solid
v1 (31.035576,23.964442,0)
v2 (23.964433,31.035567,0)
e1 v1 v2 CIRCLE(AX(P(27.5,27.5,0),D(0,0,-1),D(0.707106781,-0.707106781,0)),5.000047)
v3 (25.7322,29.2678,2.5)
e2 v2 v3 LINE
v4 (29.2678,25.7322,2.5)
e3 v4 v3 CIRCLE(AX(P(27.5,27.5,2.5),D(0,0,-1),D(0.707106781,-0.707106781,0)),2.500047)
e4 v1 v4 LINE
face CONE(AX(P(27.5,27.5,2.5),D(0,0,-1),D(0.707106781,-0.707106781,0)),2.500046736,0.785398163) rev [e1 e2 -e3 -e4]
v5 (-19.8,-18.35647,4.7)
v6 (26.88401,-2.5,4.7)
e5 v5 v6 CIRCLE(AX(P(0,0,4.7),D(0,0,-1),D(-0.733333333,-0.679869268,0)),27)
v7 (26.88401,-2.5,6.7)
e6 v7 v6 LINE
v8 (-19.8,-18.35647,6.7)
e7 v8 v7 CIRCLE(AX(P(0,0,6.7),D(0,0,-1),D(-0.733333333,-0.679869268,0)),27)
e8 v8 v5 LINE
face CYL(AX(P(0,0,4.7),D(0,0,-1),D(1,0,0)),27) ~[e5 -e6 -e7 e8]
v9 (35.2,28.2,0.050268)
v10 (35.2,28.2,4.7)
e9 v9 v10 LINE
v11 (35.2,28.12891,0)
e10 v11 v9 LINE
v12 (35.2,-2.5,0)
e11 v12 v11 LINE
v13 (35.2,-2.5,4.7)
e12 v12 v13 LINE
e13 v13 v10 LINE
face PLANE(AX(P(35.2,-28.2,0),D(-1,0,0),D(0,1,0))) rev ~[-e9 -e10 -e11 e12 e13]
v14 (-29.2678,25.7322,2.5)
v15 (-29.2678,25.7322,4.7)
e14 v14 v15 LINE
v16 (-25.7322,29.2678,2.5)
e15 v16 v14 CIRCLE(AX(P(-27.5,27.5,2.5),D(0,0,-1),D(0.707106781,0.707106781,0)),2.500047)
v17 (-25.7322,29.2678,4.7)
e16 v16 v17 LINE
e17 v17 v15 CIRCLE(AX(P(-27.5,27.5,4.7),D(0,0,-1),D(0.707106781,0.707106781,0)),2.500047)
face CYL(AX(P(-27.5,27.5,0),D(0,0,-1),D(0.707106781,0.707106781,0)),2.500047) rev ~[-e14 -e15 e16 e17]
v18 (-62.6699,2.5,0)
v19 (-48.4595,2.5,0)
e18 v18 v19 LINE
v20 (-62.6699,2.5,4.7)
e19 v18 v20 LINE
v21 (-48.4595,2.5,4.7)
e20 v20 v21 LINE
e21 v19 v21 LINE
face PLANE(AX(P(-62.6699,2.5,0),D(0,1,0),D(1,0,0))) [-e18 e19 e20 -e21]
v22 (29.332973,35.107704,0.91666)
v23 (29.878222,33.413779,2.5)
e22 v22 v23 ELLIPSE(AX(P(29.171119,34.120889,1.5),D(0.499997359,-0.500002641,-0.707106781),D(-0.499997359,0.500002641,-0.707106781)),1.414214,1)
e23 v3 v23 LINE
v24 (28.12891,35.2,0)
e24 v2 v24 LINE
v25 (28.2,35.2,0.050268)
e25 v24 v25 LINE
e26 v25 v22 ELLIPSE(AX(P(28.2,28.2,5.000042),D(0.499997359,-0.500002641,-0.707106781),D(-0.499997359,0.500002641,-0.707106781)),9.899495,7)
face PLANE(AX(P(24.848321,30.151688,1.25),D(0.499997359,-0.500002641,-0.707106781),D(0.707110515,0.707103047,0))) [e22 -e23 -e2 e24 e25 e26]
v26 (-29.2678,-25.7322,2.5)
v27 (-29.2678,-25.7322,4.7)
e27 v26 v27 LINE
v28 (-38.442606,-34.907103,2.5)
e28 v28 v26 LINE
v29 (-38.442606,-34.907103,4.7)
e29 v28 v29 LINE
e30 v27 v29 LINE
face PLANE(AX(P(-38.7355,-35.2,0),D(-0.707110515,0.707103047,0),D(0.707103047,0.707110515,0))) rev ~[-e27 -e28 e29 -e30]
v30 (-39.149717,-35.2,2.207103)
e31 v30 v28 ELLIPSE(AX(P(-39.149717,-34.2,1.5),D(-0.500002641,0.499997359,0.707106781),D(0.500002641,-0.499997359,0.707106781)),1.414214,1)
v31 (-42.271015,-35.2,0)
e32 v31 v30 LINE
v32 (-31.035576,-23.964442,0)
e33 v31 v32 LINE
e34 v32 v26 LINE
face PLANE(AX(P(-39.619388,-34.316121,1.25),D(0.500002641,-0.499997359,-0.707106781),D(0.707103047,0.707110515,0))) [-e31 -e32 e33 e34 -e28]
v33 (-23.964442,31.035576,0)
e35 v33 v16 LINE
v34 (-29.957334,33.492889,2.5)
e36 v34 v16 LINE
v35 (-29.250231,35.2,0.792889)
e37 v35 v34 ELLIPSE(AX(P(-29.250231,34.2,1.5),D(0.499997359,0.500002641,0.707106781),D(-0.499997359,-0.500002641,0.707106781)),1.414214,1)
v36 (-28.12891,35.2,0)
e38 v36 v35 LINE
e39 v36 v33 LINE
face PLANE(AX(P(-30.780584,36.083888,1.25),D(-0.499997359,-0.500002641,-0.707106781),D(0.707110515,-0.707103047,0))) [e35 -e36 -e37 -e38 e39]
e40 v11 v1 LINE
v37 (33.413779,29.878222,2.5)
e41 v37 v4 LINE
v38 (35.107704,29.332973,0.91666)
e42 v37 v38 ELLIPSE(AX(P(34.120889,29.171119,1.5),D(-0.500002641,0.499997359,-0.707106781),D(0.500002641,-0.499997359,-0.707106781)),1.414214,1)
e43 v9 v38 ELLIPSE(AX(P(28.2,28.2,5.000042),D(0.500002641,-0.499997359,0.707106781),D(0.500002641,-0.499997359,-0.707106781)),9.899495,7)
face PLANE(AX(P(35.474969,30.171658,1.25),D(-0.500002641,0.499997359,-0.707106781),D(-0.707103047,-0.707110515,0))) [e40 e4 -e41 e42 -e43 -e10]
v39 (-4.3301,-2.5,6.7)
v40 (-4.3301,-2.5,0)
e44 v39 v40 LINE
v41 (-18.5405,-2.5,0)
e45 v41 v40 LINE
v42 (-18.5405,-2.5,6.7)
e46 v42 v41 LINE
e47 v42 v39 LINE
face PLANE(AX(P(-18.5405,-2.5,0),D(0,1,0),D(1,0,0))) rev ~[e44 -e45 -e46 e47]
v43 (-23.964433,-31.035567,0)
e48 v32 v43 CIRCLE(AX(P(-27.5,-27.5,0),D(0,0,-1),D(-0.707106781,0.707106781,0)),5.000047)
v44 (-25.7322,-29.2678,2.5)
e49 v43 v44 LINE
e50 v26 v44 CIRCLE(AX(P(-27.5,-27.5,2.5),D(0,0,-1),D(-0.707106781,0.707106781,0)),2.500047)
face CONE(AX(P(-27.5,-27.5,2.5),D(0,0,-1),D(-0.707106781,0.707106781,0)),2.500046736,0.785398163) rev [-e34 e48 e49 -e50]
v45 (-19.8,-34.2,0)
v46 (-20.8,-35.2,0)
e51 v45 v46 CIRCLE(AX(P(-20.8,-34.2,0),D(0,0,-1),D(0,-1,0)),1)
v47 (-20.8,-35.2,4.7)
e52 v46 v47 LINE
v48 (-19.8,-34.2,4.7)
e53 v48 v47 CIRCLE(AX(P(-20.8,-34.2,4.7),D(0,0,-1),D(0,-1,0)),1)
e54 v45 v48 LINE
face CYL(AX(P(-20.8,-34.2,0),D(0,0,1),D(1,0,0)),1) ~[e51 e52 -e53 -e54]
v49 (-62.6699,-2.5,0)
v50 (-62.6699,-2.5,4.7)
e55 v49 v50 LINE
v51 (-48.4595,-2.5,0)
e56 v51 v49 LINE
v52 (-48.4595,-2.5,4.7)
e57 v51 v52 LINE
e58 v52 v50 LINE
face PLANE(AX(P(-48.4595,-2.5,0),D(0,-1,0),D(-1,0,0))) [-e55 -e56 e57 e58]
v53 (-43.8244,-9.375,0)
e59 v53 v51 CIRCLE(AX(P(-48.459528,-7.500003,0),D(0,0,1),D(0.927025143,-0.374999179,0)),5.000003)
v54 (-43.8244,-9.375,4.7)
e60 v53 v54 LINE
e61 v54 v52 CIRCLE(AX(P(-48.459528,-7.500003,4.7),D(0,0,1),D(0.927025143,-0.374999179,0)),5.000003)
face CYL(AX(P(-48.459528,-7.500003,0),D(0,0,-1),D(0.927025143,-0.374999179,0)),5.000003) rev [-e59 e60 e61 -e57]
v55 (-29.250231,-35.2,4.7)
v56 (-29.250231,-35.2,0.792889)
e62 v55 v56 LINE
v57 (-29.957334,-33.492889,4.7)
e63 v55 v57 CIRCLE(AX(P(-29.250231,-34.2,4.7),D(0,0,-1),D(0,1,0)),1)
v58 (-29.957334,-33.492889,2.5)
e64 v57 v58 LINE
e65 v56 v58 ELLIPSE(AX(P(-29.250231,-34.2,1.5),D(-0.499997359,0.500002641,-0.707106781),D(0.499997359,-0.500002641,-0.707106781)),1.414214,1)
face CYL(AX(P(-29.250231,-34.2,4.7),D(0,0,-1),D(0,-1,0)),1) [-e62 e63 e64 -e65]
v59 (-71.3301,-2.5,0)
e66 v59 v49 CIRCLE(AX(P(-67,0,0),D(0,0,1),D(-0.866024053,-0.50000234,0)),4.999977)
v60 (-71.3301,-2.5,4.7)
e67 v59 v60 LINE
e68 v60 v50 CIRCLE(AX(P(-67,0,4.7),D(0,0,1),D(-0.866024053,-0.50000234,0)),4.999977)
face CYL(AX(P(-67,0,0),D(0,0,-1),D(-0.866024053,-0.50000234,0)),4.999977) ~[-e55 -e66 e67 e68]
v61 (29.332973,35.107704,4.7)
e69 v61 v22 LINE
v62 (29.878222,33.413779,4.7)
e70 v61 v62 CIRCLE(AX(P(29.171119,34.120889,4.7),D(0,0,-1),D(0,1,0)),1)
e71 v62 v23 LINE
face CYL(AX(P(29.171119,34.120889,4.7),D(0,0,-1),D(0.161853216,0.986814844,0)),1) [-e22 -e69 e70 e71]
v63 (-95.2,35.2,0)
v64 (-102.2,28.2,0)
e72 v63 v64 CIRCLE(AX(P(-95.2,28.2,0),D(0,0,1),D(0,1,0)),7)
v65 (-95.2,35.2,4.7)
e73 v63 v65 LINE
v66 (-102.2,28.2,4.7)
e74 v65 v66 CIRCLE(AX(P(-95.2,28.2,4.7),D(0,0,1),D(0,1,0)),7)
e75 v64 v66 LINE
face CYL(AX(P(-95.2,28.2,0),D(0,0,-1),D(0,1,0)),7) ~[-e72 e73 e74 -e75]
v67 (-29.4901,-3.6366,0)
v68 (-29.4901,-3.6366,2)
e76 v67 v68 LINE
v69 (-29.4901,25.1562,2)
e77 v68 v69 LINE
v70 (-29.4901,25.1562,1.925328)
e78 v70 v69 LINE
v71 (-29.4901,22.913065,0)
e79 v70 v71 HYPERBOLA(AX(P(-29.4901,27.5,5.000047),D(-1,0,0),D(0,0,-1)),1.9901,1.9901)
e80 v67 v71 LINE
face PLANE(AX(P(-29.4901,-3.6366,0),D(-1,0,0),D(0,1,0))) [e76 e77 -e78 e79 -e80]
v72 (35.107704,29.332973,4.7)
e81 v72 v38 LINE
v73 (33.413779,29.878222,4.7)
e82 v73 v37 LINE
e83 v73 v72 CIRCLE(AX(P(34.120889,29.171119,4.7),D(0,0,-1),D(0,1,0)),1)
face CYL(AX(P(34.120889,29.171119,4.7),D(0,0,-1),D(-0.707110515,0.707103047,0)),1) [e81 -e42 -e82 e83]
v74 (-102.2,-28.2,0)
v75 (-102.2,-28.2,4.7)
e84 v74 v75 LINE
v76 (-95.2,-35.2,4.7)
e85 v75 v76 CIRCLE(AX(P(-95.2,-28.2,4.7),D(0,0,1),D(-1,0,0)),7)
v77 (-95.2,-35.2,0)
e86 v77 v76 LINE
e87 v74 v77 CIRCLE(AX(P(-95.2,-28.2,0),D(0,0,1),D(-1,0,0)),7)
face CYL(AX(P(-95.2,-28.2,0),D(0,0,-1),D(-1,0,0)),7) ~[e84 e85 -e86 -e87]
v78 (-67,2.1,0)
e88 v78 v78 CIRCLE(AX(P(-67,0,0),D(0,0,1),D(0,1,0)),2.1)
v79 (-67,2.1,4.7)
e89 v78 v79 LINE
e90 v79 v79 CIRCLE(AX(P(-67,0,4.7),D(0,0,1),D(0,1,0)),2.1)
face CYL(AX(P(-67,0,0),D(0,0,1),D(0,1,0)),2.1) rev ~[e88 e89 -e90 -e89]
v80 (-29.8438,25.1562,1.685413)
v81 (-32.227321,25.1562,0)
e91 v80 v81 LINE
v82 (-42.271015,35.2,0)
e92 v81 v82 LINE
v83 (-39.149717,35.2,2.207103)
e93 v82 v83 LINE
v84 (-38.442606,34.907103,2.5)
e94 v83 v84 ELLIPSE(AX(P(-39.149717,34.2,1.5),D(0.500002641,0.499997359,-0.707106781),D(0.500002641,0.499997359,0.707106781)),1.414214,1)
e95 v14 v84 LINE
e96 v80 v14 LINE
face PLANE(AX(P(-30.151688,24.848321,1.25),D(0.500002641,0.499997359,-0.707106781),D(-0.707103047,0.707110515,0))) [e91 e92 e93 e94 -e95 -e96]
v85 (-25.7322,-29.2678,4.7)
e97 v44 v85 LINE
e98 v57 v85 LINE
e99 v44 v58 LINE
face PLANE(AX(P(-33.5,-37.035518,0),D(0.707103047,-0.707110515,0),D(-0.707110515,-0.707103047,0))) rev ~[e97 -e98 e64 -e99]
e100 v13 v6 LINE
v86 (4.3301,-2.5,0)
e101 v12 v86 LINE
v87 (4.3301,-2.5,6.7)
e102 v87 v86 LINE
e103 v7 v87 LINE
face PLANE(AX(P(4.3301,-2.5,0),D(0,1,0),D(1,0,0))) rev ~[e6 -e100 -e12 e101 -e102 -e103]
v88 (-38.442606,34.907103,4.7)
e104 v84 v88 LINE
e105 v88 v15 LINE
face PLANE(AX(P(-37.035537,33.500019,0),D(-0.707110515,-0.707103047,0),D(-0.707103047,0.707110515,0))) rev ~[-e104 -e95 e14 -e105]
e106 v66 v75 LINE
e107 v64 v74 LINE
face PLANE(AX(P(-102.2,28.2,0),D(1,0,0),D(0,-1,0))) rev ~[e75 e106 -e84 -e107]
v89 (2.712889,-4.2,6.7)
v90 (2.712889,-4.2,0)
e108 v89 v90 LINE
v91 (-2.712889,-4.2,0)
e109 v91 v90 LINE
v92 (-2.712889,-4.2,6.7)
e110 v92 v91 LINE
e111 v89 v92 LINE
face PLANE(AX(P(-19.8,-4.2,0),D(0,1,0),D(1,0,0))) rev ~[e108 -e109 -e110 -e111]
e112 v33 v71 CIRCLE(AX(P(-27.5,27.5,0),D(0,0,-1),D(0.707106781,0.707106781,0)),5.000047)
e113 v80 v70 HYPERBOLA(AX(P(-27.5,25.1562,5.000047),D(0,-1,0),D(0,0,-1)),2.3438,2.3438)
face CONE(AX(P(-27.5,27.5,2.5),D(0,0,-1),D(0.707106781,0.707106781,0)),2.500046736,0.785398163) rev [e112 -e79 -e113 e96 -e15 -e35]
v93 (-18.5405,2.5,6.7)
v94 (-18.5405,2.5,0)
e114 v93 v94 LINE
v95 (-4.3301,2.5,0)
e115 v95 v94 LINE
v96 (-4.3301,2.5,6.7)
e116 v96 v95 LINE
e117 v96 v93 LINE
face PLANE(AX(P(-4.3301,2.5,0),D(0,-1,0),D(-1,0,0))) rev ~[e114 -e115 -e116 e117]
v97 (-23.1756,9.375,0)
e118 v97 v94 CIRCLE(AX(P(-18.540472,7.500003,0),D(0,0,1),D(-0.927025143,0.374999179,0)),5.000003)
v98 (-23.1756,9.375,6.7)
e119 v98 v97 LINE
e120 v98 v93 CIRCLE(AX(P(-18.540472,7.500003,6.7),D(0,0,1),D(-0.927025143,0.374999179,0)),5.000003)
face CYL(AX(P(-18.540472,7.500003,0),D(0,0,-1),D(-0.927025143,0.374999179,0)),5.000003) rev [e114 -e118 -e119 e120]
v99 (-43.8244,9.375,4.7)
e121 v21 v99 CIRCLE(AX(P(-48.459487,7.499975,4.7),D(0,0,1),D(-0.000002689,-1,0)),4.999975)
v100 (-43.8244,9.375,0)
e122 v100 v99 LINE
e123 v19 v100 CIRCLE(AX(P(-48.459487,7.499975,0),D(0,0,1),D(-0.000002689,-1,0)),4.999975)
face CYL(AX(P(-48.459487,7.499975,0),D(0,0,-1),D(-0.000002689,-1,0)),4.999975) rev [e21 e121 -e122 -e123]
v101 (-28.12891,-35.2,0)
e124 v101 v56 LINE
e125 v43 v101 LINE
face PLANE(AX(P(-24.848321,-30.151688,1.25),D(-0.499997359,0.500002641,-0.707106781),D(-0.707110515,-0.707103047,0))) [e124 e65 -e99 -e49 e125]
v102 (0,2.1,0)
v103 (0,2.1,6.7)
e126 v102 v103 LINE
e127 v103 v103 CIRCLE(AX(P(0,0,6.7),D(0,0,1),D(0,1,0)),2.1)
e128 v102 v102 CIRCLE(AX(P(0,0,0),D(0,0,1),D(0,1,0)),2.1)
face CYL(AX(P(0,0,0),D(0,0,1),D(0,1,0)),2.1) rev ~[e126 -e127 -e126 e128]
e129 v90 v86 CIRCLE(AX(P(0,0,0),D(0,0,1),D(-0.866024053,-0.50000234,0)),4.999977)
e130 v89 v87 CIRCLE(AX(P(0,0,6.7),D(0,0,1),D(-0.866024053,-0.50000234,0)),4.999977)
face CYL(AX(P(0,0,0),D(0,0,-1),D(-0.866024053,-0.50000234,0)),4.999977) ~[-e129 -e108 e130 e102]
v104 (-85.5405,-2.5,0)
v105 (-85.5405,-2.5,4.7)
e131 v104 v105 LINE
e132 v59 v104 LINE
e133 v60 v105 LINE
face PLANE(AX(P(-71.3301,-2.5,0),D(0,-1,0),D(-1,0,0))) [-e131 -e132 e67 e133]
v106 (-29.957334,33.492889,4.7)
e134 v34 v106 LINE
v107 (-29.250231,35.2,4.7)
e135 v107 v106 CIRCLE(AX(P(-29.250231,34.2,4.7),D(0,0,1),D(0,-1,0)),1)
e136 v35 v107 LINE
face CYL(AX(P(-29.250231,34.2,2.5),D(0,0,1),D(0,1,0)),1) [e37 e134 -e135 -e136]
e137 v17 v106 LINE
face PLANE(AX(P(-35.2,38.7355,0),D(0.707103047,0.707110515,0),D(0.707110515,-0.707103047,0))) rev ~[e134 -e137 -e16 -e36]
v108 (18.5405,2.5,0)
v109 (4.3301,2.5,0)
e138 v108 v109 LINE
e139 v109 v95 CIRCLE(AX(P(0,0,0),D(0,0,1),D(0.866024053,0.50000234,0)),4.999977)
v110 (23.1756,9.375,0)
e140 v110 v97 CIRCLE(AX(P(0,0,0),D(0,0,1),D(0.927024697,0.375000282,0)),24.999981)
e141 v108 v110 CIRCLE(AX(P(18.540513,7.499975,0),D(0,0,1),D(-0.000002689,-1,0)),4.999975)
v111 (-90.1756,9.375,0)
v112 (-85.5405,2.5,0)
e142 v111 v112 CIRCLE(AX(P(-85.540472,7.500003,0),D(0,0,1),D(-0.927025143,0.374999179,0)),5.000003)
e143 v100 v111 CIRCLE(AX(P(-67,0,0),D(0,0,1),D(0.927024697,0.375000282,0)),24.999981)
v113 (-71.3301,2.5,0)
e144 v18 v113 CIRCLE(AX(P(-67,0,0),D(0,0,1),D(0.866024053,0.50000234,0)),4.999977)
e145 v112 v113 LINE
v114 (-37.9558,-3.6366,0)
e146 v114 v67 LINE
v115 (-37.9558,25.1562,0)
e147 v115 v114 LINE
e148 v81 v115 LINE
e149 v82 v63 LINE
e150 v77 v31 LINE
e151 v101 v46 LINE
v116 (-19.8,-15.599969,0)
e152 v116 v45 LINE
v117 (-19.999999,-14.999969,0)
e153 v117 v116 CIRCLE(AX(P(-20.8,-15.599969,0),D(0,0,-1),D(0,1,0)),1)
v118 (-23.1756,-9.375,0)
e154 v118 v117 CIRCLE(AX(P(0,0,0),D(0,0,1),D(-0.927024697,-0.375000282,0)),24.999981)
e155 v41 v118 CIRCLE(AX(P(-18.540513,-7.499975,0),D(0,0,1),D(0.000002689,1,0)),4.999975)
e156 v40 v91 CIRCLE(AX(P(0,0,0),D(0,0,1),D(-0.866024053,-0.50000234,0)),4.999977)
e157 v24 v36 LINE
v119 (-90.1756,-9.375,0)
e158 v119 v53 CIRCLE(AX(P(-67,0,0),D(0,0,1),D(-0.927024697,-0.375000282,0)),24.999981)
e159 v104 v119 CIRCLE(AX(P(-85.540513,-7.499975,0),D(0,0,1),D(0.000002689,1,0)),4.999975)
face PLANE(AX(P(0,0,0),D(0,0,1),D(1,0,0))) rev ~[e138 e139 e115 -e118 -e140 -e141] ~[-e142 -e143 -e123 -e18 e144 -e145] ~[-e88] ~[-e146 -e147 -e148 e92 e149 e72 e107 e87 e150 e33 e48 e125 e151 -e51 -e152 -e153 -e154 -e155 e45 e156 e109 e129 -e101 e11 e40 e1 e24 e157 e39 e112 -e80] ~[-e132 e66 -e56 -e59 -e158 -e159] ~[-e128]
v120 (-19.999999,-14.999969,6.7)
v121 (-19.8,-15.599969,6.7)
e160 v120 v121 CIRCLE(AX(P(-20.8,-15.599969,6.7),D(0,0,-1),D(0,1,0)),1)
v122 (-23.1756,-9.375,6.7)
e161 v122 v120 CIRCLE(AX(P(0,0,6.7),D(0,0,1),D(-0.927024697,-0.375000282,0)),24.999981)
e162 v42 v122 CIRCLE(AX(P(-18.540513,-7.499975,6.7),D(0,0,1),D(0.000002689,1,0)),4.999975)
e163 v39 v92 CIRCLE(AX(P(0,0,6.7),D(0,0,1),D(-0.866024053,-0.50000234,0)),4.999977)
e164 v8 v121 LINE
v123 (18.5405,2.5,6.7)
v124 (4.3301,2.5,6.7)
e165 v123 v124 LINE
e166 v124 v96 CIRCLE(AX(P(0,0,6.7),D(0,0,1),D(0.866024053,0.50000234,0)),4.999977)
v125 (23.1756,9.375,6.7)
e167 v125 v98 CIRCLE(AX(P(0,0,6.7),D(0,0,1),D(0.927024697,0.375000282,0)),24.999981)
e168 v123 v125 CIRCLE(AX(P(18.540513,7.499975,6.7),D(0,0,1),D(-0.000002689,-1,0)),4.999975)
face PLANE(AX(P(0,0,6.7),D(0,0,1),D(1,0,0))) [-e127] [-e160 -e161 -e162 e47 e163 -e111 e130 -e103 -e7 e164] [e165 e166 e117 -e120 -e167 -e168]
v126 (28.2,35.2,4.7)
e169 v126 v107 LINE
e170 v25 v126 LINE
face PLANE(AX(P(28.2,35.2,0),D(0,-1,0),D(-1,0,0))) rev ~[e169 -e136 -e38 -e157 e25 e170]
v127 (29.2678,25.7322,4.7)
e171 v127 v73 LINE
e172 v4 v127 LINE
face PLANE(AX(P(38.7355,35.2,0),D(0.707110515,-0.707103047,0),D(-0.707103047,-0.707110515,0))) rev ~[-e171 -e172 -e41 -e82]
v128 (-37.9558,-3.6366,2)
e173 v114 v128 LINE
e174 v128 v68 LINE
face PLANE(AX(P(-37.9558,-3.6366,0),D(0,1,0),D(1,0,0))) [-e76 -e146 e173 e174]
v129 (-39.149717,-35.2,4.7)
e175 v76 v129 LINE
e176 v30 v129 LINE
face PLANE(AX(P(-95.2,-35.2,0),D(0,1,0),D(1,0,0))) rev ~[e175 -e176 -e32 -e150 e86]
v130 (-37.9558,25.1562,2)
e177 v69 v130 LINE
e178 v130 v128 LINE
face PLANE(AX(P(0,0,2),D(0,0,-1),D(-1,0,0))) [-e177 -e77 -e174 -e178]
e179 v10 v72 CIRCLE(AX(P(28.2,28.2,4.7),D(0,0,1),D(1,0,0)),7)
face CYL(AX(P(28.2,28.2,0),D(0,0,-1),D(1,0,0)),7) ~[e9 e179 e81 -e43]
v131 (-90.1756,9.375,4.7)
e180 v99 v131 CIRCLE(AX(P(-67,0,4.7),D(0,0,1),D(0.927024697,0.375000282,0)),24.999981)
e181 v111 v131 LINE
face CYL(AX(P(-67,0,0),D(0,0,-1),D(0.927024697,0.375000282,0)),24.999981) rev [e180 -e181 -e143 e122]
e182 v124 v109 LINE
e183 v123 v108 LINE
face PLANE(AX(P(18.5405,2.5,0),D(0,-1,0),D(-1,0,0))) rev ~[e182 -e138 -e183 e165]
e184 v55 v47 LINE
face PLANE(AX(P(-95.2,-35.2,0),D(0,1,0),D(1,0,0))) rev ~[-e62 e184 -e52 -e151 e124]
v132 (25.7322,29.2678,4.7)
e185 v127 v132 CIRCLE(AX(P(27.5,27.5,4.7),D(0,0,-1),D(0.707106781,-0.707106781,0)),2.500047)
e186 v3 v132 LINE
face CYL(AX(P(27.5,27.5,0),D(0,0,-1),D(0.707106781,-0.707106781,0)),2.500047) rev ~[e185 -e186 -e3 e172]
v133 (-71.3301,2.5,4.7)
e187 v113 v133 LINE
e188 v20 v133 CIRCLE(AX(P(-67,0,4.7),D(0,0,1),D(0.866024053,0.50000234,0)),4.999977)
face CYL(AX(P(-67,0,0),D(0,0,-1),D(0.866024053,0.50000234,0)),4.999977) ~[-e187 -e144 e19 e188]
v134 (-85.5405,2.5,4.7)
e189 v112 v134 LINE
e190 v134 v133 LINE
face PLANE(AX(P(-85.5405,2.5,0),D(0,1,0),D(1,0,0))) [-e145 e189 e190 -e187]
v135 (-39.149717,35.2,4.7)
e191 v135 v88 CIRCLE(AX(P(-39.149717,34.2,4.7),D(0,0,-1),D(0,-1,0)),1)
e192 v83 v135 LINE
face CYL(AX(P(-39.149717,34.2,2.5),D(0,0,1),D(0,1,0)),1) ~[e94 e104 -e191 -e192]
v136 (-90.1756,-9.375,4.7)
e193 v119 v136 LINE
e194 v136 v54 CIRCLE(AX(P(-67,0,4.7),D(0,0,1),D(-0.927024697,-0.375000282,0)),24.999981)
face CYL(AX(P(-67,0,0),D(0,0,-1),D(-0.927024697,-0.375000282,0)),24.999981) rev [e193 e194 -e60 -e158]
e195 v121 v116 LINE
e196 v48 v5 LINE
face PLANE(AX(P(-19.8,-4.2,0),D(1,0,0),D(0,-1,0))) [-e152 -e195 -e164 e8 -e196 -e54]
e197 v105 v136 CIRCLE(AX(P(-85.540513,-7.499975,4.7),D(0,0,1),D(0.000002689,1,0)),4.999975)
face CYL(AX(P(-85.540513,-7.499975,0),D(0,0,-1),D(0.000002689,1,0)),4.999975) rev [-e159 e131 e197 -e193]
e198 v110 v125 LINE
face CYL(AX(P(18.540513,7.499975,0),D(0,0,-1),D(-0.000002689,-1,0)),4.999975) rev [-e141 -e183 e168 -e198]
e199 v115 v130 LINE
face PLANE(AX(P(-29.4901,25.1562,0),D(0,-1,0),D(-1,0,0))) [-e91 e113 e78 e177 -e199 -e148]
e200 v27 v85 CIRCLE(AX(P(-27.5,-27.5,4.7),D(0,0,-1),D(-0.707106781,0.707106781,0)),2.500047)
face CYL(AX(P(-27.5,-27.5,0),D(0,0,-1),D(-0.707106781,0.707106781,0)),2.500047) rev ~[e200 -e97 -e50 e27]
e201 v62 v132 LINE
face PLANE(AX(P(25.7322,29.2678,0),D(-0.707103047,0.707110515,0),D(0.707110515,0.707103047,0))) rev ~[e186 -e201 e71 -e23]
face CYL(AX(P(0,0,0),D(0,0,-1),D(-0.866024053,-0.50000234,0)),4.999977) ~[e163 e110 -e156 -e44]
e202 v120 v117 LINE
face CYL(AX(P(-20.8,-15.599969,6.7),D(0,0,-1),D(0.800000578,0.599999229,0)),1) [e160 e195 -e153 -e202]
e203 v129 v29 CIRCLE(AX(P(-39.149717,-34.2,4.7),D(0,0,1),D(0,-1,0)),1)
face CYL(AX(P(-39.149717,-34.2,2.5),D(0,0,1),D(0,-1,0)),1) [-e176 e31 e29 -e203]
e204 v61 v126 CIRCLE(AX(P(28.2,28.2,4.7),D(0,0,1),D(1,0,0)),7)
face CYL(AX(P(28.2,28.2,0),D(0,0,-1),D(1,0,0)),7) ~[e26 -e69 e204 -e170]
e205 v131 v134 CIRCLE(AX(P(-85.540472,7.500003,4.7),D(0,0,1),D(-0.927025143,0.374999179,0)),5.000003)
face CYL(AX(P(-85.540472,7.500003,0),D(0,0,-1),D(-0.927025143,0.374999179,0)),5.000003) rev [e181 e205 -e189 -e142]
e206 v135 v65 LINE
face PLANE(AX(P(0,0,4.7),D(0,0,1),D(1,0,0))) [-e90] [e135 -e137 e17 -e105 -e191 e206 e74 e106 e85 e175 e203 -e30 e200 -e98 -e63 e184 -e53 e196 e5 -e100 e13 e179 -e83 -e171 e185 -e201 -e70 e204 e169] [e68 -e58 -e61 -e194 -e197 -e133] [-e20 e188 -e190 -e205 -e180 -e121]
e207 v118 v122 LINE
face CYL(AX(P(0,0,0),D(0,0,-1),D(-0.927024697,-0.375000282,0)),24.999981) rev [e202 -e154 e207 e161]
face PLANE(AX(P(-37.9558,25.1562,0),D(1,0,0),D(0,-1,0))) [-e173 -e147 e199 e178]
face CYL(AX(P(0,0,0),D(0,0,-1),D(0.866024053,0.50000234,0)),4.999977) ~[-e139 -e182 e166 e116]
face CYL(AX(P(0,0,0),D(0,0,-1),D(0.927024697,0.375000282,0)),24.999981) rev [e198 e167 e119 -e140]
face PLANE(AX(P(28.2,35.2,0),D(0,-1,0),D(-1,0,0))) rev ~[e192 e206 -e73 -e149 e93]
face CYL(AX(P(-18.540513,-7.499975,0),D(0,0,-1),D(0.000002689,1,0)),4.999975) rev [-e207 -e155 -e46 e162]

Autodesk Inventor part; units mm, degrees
ref_plane "YZ Plane" through (0, 0, 0) normal (1, 0, 0) x (0, 1, 0)
ref_plane "XZ Plane" through (0, 0, 0) normal (0, 1, 0) x (-1, 0, 0)
ref_plane "XY Plane" through (0, 0, 0) normal (0, 0, 1) x (1, 0, 0)
sketch "Sketch1" plane through (0, 0, 0) normal (0, 0, 1) x (1, 0, 0)
  line L0 (-95.2, -35.2) -> (28.2, -35.2)
  line L1 (35.2, -28.2) -> (35.2, 28.2)
  line L2 (28.2, 35.2) -> (-95.2, 35.2)
  line L3 (-102.2, 28.2) -> (-102.2, -28.2)
  arc A0 (-95.2, 35.2) -> (-102.2, 28.2) centre (-95.2, 28.2) ccw
  arc A1 (35.2, 28.2) -> (28.2, 35.2) centre (28.2, 28.2) ccw
  arc A2 (-102.2, -28.2) -> (-95.2, -35.2) centre (-95.2, -28.2) ccw
  arc A3 (28.2, -35.2) -> (35.2, -28.2) centre (28.2, -28.2) ccw
  line L4 (24.8747, -2.5) -> (24.8747, 2.5) construction
  line L5 (-24.8747, 2.5) -> (-24.8747, -2.5) construction
  line L6 (24.8747, -2.5) -> (-24.8747, 2.5) construction
  line L7 (24.8747, 2.5) -> (-24.8747, -2.5) construction
  arc A4 (-23.1756, -9.375) -> (23.1756, -9.375) centre (0, 0) ccw
  arc A5 (23.1756, 9.375) -> (-23.1756, 9.375) centre (0, 0) ccw
  arc A6 (-18.5405, -2.5) -> (-23.1756, -9.375) centre (-18.5405, -7.5) ccw
  arc A7 (-23.1756, 9.375) -> (-18.5405, 2.5) centre (-18.5405, 7.5) ccw
  arc A8 (23.1756, -9.375) -> (18.5405, -2.5) centre (18.5405, -7.5) ccw
  arc A9 (18.5405, 2.5) -> (23.1756, 9.375) centre (18.5405, 7.5) ccw
  line L8 (-4.3301, 2.5) -> (-18.5405, 2.5)
  line L9 (-18.5405, -2.5) -> (-4.3301, -2.5)
  line L10 (4.3301, -2.5) -> (18.5405, -2.5)
  line L11 (18.5405, 2.5) -> (4.3301, 2.5)
  arc A10 (-4.3301, -2.5) -> (4.3301, -2.5) centre (0, 0) ccw
  arc A11 (4.3301, 2.5) -> (-4.3301, 2.5) centre (0, 0) ccw
  line L12 (-18.5405, 7.5) -> (18.5405, 7.5) construction
  line L13 (18.5405, -7.5) -> (-18.5405, -7.5) construction
  line L14 (0, 0) -> (0, -35.2) construction
  line L15 (0, 0) -> (0, 35.2) construction
  line L16 (0, 0) -> (35.2, 0) construction
  line L17 (-33.5, -35.2) -> (-33.5, 35.2) construction
  arc A12 (-90.1756, -9.375) -> (-43.8244, -9.375) centre (-67, 0) ccw
  arc A13 (-43.8244, 9.375) -> (-90.1756, 9.375) centre (-67, 0) ccw
  arc A14 (-43.8244, -9.375) -> (-48.4595, -2.5) centre (-48.4595, -7.5) ccw
  arc A15 (-48.4595, 2.5) -> (-43.8244, 9.375) centre (-48.4595, 7.5) ccw
  arc A16 (-85.5405, -2.5) -> (-90.1756, -9.375) centre (-85.5405, -7.5) ccw
  arc A17 (-90.1756, 9.375) -> (-85.5405, 2.5) centre (-85.5405, 7.5) ccw
  line L18 (-62.6699, 2.5) -> (-48.4595, 2.5)
  line L19 (-48.4595, -2.5) -> (-62.6699, -2.5)
  line L20 (-71.3301, -2.5) -> (-85.5405, -2.5)
  line L21 (-85.5405, 2.5) -> (-71.3301, 2.5)
  arc A18 (-71.3301, -2.5) -> (-62.6699, -2.5) centre (-67, 0) ccw
  arc A19 (-62.6699, 2.5) -> (-71.3301, 2.5) centre (-67, 0) ccw
  point P0 (0, 0)
  point P1 (0, 0)
  dimension "d63" = 67
  dimension "d1" = 7
  dimension "d3" = 5
  dimension "d4" = 25
  dimension "d5" = 5
  dimension "d7" = 5
  dimension "d59" = 70.4
  dimension "d60" = 137.4
extrude "Extrusion1" add sketch "Sketch1" along normal blind 4.7
sketch "Sketch2" plane through (0, 0, 4.7) normal (0, 0, 1) x (1, 0, 0)
  circle A0 centre (0, 0) radius 27
  arc A1 (23.1756, 9.375) -> (-23.1756, 9.375) centre (0, 0) ccw projected
  arc A2 (18.5405, 2.5) -> (23.1756, 9.375) centre (18.5405, 7.5) ccw projected
  line L0 (18.5405, 2.5) -> (4.3301, 2.5) projected
  arc A3 (4.3301, 2.5) -> (-4.3301, 2.5) centre (0, 0) ccw projected
  line L1 (-4.3301, 2.5) -> (-18.5405, 2.5) projected
  arc A4 (-23.1756, 9.375) -> (-18.5405, 2.5) centre (-18.5405, 7.5) ccw projected
  line L2 (-18.5405, -2.5) -> (-4.3301, -2.5) projected
  arc A5 (-4.3301, -2.5) -> (4.3301, -2.5) centre (0, 0) ccw projected
  line L3 (4.3301, -2.5) -> (18.5405, -2.5) projected
  arc A6 (23.1756, -9.375) -> (18.5405, -2.5) centre (18.5405, -7.5) ccw projected
  arc A7 (-23.1756, -9.375) -> (23.1756, -9.375) centre (0, 0) ccw projected
  arc A8 (-18.5405, -2.5) -> (-23.1756, -9.375) centre (-18.5405, -7.5) ccw projected
  line L4 (28.2, 35.2) -> (-95.2, 35.2) projected
  arc A9 (-95.2, 35.2) -> (-102.2, 28.2) centre (-95.2, 28.2) ccw projected
  line L5 (-102.2, 28.2) -> (-102.2, -28.2) projected
  arc A10 (-102.2, -28.2) -> (-95.2, -35.2) centre (-95.2, -28.2) ccw projected
  line L6 (-95.2, -35.2) -> (28.2, -35.2) projected
  arc A11 (28.2, -35.2) -> (35.2, -28.2) centre (28.2, -28.2) ccw projected
  line L7 (35.2, -28.2) -> (35.2, 28.2) projected
  arc A12 (35.2, 28.2) -> (28.2, 35.2) centre (28.2, 28.2) ccw projected
  dimension "d10" = 54
extrude "Extrusion2" add sketch "Sketch2" along normal blind 2 contours A0
sketch "Sketch3" plane through (0, 0, 0) normal (0, 0, -1) x (-1, 0, 0)
  line L0 (-27.5, -27.5) -> (27.5, -27.5) construction
  line L1 (27.5, -27.5) -> (27.5, 27.5) construction
  line L2 (27.5, 27.5) -> (-27.5, 27.5) construction
  line L3 (-27.5, 27.5) -> (-27.5, -27.5) construction
  line L4 (-27.5, -27.5) -> (27.5, 27.5) construction
  line L5 (27.5, -27.5) -> (-27.5, 27.5) construction
  line L6 (-27.5, 27.5) -> (-36.9678, 36.9678) construction
  line L7 (-25.7322, 29.2678) -> (-35.2, 38.7355)
  line L8 (-38.7355, 35.2) -> (-29.2678, 25.7322)
  arc A0 (-29.2678, 25.7322) -> (-25.7322, 29.2678) centre (-27.5, 27.5) ccw
  arc A1 (-35.2, 38.7355) -> (-38.7355, 35.2) centre (-36.9678, 36.9678) ccw
  line L9 (95.2, 35.2) -> (-28.2, 35.2) construction
  arc A2 (-38.7355, -35.2) -> (-35.2, -38.7355) centre (-36.9678, -36.9678) ccw
  line L10 (-29.2678, -25.7322) -> (-38.7355, -35.2)
  line L11 (-35.2, -38.7355) -> (-25.7322, -29.2678)
  arc A3 (-25.7322, -29.2678) -> (-29.2678, -25.7322) centre (-27.5, -27.5) ccw
  arc A4 (35.2, -38.7355) -> (38.7355, -35.2) centre (36.9678, -36.9678) ccw
  line L12 (25.7322, -29.2678) -> (35.2, -38.7355)
  line L13 (38.7355, -35.2) -> (29.2678, -25.7322)
  arc A5 (29.2678, -25.7322) -> (25.7322, -29.2678) centre (27.5, -27.5) ccw
  arc A6 (38.7355, 35.2) -> (35.2, 38.7355) centre (36.9678, 36.9678) ccw
  line L14 (29.2678, 25.7322) -> (38.7355, 35.2)
  line L15 (35.2, 38.7355) -> (25.7322, 29.2678)
  arc A7 (25.7322, 29.2678) -> (29.2678, 25.7322) centre (27.5, 27.5) ccw
  arc A8 (62.6699, -2.5) -> (71.3301, -2.5) centre (67, 0) ccw construction
  line L16 (67, 0) -> (0, 0) construction
  line L17 (134, 0) -> (67, 0) construction
  arc A9 (92.7322, 29.2678) -> (96.2678, 25.7322) centre (94.5, 27.5) ccw
  line L18 (96.2678, 25.7322) -> (105.7355, 35.2)
  arc A10 (105.7355, 35.2) -> (102.2, 38.7355) centre (103.9678, 36.9678) ccw
  line L19 (102.2, 38.7355) -> (92.7322, 29.2678)
  line L20 (28.2645, 35.2) -> (37.7322, 25.7322)
  arc A11 (37.7322, 25.7322) -> (41.2678, 29.2678) centre (39.5, 27.5) ccw
  line L21 (41.2678, 29.2678) -> (31.8, 38.7355)
  arc A12 (31.8, 38.7355) -> (28.2645, 35.2) centre (30.0322, 36.9678) ccw
  line L22 (31.8, -38.7355) -> (41.2678, -29.2678)
  arc A13 (41.2678, -29.2678) -> (37.7322, -25.7322) centre (39.5, -27.5) ccw
  line L23 (37.7322, -25.7322) -> (28.2645, -35.2)
  arc A14 (28.2645, -35.2) -> (31.8, -38.7355) centre (30.0322, -36.9678) ccw
  line L24 (105.7355, -35.2) -> (96.2678, -25.7322)
  arc A15 (96.2678, -25.7322) -> (92.7322, -29.2678) centre (94.5, -27.5) ccw
  line L25 (92.7322, -29.2678) -> (102.2, -38.7355)
  arc A16 (102.2, -38.7355) -> (105.7355, -35.2) centre (103.9678, -36.9678) ccw
  point P0 (-32.2339, 32.2339)
  point P1 (129.6699, -2.5)
  point P2 (138.3301, -2.5)
  dimension "d68" = 55
  dimension "d70" = 5
  dimension "d73" = 360
  dimension "d211" = 67
  dimension "d214" = 67
  dimension "d221" = 360
extrude "Extrusion3" cut sketch "Sketch3" against normal through all contours A0 L8 A1 L7 | L10 A3 L11 A2 | L12 L22 L13 A4 | L12 L23 L13 L22 | L12 A5 L13 L23 | L14 L21 L15 A6 | L14 L20 L15 L21 | L14 A7 L15 L20
chamfer "Chamfer1" distance 2.5 angle 45 12 edges at (28.3939, 31.9294, 0) (25.7322, 25.7322, 0) (31.9294, 28.3939, 0) (-28.6983, 32.2339, 0) (-25.7322, 25.7322, 0) (-34.0017, 30.4661, 0) (-25.7322, -25.7322, 0) (-34.0017, -30.4661, 0) (-28.6983, -32.2339, 0) (25.7322, -25.7322, 0) (28.3939, -31.9294, 0) (31.9294, -28.3939, 0)
fillet "Fillet1" radius 1 8 edges at (34.5911, -31.0555, 3.6) (31.0555, -34.5911, 3.6) (31.0555, 34.5911, 3.6) (34.5911, 31.0555, 3.6) (-31.6645, 35.2, 3.6) (-38.7355, 35.2, 3.6) (-31.6645, -35.2, 3.6) (-38.7355, -35.2, 3.6)
sketch "Sketch7" plane through (0, 0, 0) normal (0, 0, -1) x (-1, 0, 0)
  arc A0 (-4.3301, -2.5) -> (4.3301, -2.5) centre (0, 0) ccw construction
  arc A1 (62.6699, -2.5) -> (71.3301, -2.5) centre (67, 0) ccw projected
  point P0 (0, 0)
hole "Hole2" at (0, 0, 0) at (-67, 0, 0) direction (0, 0, 1) diameter 4.2 end through all
sketch "Sketch4" plane through (0, 0, 0) normal (0, 0, -1) x (-1, 0, 0)
  line L0 (19.8, -4.2) -> (19.8, -35.2)
  line L1 (19.8, -35.2) -> (-35.2, -35.2)
  line L2 (-35.2, -35.2) -> (-35.2, -4.2)
  line L3 (19.8, -4.2) -> (-35.2, -4.2)
  line L4 (102.2, -35.2) -> (-35.2, -35.2) construction
  line L5 (-35.2, -35.2) -> (-35.2, 35.2) construction
  line L6 (-35.2, 35.2) -> (102.2, 35.2) construction
  line L7 (102.2, 35.2) -> (102.2, -35.2) construction
  line L8 (28.1289, 35.2) -> (42.2711, 35.2) construction
  line L9 (-35.2, 28.1289) -> (-35.2, -28.1289) construction
  line L10 (-28.2, -35.2) -> (28.1289, -35.2) construction
  line L11 (102.2, -28.2) -> (102.2, 28.2) construction
  line L12 (-4.3301, -2.5) -> (-18.5405, -2.5) projected
  line L13 (-4.3301, -2.5) -> (-35.2, -2.5)
  line L14 (-35.2, -2.5) -> (-35.2, -4.2)
  line L15 (-35.2, -4.2) -> (-4.3301, -4.2)
  line L16 (-4.3301, -4.2) -> (-4.3301, -2.5)
  point P0 (-28.1289, 35.2)
  point P1 (-28.1289, -35.2)
  dimension "d39" = 31
  dimension "d41" = 55
extrude "Extrusion4" cut sketch "Sketch4" against normal through all
fillet "Fillet2" radius 1 2 edges at (-19.8, -15.263, 3.35) (-19.8, -35.2, 2.35)
sketch "Sketch8" plane through (0, 0, 0) normal (0, 0, -1) x (-1, 0, 0)
  line L0 (0, 0) -> (35.5, 0) construction
  line L1 (35.5, 0) -> (71, 0) construction
  line L2 (32.5, 32.5) -> (32.5, -32.5) construction
  line L3 (32.5, -32.5) -> (-32.5, -32.5) construction
  line L4 (-32.5, -32.5) -> (-32.5, 32.5) construction
  line L5 (-32.5, 32.5) -> (32.5, 32.5) construction
  line L6 (99.5, 32.5) -> (99.5, -32.5) construction
  line L7 (99.5, -32.5) -> (34.5, -32.5) construction
  line L8 (34.5, -32.5) -> (34.5, 32.5) construction
  line L9 (34.5, 32.5) -> (99.5, 32.5) construction
  line L10 (96.3694, 32.5) -> (96.3694, 35.2) construction
  line L11 (99.5, 26.6962) -> (102.2, 26.6962) construction
  line L12 (92.7868, -32.5) -> (92.7868, -35.2) construction
  line L13 (102.2, -28.2) -> (102.2, 28.2) construction
  line L14 (42.2711, -35.2) -> (95.2, -35.2) construction
  line L15 (-35.2, -1.5) -> (-35.2, 28.2) construction
  line L16 (-35.2, 21.6184) -> (-32.5, 21.6184) construction
  line L17 (95.2, 35.2) -> (42.2711, 35.2) construction
  line L18 (29.4901, 25.1562) -> (37.9558, 25.1562)
  line L19 (37.9558, 25.1562) -> (37.9558, -3.6366)
  line L20 (37.9558, -3.6366) -> (29.4901, -3.6366)
  line L21 (29.4901, -3.6366) -> (29.4901, 25.1562)
  dimension "d131" = 65
extrude "Extrusion6" cut sketch "Sketch8" against normal blind 2
equation "\"Offset\" = 0.3"
equation "\"d56\" = 0.3"
properties part number "V4 in walldual"
